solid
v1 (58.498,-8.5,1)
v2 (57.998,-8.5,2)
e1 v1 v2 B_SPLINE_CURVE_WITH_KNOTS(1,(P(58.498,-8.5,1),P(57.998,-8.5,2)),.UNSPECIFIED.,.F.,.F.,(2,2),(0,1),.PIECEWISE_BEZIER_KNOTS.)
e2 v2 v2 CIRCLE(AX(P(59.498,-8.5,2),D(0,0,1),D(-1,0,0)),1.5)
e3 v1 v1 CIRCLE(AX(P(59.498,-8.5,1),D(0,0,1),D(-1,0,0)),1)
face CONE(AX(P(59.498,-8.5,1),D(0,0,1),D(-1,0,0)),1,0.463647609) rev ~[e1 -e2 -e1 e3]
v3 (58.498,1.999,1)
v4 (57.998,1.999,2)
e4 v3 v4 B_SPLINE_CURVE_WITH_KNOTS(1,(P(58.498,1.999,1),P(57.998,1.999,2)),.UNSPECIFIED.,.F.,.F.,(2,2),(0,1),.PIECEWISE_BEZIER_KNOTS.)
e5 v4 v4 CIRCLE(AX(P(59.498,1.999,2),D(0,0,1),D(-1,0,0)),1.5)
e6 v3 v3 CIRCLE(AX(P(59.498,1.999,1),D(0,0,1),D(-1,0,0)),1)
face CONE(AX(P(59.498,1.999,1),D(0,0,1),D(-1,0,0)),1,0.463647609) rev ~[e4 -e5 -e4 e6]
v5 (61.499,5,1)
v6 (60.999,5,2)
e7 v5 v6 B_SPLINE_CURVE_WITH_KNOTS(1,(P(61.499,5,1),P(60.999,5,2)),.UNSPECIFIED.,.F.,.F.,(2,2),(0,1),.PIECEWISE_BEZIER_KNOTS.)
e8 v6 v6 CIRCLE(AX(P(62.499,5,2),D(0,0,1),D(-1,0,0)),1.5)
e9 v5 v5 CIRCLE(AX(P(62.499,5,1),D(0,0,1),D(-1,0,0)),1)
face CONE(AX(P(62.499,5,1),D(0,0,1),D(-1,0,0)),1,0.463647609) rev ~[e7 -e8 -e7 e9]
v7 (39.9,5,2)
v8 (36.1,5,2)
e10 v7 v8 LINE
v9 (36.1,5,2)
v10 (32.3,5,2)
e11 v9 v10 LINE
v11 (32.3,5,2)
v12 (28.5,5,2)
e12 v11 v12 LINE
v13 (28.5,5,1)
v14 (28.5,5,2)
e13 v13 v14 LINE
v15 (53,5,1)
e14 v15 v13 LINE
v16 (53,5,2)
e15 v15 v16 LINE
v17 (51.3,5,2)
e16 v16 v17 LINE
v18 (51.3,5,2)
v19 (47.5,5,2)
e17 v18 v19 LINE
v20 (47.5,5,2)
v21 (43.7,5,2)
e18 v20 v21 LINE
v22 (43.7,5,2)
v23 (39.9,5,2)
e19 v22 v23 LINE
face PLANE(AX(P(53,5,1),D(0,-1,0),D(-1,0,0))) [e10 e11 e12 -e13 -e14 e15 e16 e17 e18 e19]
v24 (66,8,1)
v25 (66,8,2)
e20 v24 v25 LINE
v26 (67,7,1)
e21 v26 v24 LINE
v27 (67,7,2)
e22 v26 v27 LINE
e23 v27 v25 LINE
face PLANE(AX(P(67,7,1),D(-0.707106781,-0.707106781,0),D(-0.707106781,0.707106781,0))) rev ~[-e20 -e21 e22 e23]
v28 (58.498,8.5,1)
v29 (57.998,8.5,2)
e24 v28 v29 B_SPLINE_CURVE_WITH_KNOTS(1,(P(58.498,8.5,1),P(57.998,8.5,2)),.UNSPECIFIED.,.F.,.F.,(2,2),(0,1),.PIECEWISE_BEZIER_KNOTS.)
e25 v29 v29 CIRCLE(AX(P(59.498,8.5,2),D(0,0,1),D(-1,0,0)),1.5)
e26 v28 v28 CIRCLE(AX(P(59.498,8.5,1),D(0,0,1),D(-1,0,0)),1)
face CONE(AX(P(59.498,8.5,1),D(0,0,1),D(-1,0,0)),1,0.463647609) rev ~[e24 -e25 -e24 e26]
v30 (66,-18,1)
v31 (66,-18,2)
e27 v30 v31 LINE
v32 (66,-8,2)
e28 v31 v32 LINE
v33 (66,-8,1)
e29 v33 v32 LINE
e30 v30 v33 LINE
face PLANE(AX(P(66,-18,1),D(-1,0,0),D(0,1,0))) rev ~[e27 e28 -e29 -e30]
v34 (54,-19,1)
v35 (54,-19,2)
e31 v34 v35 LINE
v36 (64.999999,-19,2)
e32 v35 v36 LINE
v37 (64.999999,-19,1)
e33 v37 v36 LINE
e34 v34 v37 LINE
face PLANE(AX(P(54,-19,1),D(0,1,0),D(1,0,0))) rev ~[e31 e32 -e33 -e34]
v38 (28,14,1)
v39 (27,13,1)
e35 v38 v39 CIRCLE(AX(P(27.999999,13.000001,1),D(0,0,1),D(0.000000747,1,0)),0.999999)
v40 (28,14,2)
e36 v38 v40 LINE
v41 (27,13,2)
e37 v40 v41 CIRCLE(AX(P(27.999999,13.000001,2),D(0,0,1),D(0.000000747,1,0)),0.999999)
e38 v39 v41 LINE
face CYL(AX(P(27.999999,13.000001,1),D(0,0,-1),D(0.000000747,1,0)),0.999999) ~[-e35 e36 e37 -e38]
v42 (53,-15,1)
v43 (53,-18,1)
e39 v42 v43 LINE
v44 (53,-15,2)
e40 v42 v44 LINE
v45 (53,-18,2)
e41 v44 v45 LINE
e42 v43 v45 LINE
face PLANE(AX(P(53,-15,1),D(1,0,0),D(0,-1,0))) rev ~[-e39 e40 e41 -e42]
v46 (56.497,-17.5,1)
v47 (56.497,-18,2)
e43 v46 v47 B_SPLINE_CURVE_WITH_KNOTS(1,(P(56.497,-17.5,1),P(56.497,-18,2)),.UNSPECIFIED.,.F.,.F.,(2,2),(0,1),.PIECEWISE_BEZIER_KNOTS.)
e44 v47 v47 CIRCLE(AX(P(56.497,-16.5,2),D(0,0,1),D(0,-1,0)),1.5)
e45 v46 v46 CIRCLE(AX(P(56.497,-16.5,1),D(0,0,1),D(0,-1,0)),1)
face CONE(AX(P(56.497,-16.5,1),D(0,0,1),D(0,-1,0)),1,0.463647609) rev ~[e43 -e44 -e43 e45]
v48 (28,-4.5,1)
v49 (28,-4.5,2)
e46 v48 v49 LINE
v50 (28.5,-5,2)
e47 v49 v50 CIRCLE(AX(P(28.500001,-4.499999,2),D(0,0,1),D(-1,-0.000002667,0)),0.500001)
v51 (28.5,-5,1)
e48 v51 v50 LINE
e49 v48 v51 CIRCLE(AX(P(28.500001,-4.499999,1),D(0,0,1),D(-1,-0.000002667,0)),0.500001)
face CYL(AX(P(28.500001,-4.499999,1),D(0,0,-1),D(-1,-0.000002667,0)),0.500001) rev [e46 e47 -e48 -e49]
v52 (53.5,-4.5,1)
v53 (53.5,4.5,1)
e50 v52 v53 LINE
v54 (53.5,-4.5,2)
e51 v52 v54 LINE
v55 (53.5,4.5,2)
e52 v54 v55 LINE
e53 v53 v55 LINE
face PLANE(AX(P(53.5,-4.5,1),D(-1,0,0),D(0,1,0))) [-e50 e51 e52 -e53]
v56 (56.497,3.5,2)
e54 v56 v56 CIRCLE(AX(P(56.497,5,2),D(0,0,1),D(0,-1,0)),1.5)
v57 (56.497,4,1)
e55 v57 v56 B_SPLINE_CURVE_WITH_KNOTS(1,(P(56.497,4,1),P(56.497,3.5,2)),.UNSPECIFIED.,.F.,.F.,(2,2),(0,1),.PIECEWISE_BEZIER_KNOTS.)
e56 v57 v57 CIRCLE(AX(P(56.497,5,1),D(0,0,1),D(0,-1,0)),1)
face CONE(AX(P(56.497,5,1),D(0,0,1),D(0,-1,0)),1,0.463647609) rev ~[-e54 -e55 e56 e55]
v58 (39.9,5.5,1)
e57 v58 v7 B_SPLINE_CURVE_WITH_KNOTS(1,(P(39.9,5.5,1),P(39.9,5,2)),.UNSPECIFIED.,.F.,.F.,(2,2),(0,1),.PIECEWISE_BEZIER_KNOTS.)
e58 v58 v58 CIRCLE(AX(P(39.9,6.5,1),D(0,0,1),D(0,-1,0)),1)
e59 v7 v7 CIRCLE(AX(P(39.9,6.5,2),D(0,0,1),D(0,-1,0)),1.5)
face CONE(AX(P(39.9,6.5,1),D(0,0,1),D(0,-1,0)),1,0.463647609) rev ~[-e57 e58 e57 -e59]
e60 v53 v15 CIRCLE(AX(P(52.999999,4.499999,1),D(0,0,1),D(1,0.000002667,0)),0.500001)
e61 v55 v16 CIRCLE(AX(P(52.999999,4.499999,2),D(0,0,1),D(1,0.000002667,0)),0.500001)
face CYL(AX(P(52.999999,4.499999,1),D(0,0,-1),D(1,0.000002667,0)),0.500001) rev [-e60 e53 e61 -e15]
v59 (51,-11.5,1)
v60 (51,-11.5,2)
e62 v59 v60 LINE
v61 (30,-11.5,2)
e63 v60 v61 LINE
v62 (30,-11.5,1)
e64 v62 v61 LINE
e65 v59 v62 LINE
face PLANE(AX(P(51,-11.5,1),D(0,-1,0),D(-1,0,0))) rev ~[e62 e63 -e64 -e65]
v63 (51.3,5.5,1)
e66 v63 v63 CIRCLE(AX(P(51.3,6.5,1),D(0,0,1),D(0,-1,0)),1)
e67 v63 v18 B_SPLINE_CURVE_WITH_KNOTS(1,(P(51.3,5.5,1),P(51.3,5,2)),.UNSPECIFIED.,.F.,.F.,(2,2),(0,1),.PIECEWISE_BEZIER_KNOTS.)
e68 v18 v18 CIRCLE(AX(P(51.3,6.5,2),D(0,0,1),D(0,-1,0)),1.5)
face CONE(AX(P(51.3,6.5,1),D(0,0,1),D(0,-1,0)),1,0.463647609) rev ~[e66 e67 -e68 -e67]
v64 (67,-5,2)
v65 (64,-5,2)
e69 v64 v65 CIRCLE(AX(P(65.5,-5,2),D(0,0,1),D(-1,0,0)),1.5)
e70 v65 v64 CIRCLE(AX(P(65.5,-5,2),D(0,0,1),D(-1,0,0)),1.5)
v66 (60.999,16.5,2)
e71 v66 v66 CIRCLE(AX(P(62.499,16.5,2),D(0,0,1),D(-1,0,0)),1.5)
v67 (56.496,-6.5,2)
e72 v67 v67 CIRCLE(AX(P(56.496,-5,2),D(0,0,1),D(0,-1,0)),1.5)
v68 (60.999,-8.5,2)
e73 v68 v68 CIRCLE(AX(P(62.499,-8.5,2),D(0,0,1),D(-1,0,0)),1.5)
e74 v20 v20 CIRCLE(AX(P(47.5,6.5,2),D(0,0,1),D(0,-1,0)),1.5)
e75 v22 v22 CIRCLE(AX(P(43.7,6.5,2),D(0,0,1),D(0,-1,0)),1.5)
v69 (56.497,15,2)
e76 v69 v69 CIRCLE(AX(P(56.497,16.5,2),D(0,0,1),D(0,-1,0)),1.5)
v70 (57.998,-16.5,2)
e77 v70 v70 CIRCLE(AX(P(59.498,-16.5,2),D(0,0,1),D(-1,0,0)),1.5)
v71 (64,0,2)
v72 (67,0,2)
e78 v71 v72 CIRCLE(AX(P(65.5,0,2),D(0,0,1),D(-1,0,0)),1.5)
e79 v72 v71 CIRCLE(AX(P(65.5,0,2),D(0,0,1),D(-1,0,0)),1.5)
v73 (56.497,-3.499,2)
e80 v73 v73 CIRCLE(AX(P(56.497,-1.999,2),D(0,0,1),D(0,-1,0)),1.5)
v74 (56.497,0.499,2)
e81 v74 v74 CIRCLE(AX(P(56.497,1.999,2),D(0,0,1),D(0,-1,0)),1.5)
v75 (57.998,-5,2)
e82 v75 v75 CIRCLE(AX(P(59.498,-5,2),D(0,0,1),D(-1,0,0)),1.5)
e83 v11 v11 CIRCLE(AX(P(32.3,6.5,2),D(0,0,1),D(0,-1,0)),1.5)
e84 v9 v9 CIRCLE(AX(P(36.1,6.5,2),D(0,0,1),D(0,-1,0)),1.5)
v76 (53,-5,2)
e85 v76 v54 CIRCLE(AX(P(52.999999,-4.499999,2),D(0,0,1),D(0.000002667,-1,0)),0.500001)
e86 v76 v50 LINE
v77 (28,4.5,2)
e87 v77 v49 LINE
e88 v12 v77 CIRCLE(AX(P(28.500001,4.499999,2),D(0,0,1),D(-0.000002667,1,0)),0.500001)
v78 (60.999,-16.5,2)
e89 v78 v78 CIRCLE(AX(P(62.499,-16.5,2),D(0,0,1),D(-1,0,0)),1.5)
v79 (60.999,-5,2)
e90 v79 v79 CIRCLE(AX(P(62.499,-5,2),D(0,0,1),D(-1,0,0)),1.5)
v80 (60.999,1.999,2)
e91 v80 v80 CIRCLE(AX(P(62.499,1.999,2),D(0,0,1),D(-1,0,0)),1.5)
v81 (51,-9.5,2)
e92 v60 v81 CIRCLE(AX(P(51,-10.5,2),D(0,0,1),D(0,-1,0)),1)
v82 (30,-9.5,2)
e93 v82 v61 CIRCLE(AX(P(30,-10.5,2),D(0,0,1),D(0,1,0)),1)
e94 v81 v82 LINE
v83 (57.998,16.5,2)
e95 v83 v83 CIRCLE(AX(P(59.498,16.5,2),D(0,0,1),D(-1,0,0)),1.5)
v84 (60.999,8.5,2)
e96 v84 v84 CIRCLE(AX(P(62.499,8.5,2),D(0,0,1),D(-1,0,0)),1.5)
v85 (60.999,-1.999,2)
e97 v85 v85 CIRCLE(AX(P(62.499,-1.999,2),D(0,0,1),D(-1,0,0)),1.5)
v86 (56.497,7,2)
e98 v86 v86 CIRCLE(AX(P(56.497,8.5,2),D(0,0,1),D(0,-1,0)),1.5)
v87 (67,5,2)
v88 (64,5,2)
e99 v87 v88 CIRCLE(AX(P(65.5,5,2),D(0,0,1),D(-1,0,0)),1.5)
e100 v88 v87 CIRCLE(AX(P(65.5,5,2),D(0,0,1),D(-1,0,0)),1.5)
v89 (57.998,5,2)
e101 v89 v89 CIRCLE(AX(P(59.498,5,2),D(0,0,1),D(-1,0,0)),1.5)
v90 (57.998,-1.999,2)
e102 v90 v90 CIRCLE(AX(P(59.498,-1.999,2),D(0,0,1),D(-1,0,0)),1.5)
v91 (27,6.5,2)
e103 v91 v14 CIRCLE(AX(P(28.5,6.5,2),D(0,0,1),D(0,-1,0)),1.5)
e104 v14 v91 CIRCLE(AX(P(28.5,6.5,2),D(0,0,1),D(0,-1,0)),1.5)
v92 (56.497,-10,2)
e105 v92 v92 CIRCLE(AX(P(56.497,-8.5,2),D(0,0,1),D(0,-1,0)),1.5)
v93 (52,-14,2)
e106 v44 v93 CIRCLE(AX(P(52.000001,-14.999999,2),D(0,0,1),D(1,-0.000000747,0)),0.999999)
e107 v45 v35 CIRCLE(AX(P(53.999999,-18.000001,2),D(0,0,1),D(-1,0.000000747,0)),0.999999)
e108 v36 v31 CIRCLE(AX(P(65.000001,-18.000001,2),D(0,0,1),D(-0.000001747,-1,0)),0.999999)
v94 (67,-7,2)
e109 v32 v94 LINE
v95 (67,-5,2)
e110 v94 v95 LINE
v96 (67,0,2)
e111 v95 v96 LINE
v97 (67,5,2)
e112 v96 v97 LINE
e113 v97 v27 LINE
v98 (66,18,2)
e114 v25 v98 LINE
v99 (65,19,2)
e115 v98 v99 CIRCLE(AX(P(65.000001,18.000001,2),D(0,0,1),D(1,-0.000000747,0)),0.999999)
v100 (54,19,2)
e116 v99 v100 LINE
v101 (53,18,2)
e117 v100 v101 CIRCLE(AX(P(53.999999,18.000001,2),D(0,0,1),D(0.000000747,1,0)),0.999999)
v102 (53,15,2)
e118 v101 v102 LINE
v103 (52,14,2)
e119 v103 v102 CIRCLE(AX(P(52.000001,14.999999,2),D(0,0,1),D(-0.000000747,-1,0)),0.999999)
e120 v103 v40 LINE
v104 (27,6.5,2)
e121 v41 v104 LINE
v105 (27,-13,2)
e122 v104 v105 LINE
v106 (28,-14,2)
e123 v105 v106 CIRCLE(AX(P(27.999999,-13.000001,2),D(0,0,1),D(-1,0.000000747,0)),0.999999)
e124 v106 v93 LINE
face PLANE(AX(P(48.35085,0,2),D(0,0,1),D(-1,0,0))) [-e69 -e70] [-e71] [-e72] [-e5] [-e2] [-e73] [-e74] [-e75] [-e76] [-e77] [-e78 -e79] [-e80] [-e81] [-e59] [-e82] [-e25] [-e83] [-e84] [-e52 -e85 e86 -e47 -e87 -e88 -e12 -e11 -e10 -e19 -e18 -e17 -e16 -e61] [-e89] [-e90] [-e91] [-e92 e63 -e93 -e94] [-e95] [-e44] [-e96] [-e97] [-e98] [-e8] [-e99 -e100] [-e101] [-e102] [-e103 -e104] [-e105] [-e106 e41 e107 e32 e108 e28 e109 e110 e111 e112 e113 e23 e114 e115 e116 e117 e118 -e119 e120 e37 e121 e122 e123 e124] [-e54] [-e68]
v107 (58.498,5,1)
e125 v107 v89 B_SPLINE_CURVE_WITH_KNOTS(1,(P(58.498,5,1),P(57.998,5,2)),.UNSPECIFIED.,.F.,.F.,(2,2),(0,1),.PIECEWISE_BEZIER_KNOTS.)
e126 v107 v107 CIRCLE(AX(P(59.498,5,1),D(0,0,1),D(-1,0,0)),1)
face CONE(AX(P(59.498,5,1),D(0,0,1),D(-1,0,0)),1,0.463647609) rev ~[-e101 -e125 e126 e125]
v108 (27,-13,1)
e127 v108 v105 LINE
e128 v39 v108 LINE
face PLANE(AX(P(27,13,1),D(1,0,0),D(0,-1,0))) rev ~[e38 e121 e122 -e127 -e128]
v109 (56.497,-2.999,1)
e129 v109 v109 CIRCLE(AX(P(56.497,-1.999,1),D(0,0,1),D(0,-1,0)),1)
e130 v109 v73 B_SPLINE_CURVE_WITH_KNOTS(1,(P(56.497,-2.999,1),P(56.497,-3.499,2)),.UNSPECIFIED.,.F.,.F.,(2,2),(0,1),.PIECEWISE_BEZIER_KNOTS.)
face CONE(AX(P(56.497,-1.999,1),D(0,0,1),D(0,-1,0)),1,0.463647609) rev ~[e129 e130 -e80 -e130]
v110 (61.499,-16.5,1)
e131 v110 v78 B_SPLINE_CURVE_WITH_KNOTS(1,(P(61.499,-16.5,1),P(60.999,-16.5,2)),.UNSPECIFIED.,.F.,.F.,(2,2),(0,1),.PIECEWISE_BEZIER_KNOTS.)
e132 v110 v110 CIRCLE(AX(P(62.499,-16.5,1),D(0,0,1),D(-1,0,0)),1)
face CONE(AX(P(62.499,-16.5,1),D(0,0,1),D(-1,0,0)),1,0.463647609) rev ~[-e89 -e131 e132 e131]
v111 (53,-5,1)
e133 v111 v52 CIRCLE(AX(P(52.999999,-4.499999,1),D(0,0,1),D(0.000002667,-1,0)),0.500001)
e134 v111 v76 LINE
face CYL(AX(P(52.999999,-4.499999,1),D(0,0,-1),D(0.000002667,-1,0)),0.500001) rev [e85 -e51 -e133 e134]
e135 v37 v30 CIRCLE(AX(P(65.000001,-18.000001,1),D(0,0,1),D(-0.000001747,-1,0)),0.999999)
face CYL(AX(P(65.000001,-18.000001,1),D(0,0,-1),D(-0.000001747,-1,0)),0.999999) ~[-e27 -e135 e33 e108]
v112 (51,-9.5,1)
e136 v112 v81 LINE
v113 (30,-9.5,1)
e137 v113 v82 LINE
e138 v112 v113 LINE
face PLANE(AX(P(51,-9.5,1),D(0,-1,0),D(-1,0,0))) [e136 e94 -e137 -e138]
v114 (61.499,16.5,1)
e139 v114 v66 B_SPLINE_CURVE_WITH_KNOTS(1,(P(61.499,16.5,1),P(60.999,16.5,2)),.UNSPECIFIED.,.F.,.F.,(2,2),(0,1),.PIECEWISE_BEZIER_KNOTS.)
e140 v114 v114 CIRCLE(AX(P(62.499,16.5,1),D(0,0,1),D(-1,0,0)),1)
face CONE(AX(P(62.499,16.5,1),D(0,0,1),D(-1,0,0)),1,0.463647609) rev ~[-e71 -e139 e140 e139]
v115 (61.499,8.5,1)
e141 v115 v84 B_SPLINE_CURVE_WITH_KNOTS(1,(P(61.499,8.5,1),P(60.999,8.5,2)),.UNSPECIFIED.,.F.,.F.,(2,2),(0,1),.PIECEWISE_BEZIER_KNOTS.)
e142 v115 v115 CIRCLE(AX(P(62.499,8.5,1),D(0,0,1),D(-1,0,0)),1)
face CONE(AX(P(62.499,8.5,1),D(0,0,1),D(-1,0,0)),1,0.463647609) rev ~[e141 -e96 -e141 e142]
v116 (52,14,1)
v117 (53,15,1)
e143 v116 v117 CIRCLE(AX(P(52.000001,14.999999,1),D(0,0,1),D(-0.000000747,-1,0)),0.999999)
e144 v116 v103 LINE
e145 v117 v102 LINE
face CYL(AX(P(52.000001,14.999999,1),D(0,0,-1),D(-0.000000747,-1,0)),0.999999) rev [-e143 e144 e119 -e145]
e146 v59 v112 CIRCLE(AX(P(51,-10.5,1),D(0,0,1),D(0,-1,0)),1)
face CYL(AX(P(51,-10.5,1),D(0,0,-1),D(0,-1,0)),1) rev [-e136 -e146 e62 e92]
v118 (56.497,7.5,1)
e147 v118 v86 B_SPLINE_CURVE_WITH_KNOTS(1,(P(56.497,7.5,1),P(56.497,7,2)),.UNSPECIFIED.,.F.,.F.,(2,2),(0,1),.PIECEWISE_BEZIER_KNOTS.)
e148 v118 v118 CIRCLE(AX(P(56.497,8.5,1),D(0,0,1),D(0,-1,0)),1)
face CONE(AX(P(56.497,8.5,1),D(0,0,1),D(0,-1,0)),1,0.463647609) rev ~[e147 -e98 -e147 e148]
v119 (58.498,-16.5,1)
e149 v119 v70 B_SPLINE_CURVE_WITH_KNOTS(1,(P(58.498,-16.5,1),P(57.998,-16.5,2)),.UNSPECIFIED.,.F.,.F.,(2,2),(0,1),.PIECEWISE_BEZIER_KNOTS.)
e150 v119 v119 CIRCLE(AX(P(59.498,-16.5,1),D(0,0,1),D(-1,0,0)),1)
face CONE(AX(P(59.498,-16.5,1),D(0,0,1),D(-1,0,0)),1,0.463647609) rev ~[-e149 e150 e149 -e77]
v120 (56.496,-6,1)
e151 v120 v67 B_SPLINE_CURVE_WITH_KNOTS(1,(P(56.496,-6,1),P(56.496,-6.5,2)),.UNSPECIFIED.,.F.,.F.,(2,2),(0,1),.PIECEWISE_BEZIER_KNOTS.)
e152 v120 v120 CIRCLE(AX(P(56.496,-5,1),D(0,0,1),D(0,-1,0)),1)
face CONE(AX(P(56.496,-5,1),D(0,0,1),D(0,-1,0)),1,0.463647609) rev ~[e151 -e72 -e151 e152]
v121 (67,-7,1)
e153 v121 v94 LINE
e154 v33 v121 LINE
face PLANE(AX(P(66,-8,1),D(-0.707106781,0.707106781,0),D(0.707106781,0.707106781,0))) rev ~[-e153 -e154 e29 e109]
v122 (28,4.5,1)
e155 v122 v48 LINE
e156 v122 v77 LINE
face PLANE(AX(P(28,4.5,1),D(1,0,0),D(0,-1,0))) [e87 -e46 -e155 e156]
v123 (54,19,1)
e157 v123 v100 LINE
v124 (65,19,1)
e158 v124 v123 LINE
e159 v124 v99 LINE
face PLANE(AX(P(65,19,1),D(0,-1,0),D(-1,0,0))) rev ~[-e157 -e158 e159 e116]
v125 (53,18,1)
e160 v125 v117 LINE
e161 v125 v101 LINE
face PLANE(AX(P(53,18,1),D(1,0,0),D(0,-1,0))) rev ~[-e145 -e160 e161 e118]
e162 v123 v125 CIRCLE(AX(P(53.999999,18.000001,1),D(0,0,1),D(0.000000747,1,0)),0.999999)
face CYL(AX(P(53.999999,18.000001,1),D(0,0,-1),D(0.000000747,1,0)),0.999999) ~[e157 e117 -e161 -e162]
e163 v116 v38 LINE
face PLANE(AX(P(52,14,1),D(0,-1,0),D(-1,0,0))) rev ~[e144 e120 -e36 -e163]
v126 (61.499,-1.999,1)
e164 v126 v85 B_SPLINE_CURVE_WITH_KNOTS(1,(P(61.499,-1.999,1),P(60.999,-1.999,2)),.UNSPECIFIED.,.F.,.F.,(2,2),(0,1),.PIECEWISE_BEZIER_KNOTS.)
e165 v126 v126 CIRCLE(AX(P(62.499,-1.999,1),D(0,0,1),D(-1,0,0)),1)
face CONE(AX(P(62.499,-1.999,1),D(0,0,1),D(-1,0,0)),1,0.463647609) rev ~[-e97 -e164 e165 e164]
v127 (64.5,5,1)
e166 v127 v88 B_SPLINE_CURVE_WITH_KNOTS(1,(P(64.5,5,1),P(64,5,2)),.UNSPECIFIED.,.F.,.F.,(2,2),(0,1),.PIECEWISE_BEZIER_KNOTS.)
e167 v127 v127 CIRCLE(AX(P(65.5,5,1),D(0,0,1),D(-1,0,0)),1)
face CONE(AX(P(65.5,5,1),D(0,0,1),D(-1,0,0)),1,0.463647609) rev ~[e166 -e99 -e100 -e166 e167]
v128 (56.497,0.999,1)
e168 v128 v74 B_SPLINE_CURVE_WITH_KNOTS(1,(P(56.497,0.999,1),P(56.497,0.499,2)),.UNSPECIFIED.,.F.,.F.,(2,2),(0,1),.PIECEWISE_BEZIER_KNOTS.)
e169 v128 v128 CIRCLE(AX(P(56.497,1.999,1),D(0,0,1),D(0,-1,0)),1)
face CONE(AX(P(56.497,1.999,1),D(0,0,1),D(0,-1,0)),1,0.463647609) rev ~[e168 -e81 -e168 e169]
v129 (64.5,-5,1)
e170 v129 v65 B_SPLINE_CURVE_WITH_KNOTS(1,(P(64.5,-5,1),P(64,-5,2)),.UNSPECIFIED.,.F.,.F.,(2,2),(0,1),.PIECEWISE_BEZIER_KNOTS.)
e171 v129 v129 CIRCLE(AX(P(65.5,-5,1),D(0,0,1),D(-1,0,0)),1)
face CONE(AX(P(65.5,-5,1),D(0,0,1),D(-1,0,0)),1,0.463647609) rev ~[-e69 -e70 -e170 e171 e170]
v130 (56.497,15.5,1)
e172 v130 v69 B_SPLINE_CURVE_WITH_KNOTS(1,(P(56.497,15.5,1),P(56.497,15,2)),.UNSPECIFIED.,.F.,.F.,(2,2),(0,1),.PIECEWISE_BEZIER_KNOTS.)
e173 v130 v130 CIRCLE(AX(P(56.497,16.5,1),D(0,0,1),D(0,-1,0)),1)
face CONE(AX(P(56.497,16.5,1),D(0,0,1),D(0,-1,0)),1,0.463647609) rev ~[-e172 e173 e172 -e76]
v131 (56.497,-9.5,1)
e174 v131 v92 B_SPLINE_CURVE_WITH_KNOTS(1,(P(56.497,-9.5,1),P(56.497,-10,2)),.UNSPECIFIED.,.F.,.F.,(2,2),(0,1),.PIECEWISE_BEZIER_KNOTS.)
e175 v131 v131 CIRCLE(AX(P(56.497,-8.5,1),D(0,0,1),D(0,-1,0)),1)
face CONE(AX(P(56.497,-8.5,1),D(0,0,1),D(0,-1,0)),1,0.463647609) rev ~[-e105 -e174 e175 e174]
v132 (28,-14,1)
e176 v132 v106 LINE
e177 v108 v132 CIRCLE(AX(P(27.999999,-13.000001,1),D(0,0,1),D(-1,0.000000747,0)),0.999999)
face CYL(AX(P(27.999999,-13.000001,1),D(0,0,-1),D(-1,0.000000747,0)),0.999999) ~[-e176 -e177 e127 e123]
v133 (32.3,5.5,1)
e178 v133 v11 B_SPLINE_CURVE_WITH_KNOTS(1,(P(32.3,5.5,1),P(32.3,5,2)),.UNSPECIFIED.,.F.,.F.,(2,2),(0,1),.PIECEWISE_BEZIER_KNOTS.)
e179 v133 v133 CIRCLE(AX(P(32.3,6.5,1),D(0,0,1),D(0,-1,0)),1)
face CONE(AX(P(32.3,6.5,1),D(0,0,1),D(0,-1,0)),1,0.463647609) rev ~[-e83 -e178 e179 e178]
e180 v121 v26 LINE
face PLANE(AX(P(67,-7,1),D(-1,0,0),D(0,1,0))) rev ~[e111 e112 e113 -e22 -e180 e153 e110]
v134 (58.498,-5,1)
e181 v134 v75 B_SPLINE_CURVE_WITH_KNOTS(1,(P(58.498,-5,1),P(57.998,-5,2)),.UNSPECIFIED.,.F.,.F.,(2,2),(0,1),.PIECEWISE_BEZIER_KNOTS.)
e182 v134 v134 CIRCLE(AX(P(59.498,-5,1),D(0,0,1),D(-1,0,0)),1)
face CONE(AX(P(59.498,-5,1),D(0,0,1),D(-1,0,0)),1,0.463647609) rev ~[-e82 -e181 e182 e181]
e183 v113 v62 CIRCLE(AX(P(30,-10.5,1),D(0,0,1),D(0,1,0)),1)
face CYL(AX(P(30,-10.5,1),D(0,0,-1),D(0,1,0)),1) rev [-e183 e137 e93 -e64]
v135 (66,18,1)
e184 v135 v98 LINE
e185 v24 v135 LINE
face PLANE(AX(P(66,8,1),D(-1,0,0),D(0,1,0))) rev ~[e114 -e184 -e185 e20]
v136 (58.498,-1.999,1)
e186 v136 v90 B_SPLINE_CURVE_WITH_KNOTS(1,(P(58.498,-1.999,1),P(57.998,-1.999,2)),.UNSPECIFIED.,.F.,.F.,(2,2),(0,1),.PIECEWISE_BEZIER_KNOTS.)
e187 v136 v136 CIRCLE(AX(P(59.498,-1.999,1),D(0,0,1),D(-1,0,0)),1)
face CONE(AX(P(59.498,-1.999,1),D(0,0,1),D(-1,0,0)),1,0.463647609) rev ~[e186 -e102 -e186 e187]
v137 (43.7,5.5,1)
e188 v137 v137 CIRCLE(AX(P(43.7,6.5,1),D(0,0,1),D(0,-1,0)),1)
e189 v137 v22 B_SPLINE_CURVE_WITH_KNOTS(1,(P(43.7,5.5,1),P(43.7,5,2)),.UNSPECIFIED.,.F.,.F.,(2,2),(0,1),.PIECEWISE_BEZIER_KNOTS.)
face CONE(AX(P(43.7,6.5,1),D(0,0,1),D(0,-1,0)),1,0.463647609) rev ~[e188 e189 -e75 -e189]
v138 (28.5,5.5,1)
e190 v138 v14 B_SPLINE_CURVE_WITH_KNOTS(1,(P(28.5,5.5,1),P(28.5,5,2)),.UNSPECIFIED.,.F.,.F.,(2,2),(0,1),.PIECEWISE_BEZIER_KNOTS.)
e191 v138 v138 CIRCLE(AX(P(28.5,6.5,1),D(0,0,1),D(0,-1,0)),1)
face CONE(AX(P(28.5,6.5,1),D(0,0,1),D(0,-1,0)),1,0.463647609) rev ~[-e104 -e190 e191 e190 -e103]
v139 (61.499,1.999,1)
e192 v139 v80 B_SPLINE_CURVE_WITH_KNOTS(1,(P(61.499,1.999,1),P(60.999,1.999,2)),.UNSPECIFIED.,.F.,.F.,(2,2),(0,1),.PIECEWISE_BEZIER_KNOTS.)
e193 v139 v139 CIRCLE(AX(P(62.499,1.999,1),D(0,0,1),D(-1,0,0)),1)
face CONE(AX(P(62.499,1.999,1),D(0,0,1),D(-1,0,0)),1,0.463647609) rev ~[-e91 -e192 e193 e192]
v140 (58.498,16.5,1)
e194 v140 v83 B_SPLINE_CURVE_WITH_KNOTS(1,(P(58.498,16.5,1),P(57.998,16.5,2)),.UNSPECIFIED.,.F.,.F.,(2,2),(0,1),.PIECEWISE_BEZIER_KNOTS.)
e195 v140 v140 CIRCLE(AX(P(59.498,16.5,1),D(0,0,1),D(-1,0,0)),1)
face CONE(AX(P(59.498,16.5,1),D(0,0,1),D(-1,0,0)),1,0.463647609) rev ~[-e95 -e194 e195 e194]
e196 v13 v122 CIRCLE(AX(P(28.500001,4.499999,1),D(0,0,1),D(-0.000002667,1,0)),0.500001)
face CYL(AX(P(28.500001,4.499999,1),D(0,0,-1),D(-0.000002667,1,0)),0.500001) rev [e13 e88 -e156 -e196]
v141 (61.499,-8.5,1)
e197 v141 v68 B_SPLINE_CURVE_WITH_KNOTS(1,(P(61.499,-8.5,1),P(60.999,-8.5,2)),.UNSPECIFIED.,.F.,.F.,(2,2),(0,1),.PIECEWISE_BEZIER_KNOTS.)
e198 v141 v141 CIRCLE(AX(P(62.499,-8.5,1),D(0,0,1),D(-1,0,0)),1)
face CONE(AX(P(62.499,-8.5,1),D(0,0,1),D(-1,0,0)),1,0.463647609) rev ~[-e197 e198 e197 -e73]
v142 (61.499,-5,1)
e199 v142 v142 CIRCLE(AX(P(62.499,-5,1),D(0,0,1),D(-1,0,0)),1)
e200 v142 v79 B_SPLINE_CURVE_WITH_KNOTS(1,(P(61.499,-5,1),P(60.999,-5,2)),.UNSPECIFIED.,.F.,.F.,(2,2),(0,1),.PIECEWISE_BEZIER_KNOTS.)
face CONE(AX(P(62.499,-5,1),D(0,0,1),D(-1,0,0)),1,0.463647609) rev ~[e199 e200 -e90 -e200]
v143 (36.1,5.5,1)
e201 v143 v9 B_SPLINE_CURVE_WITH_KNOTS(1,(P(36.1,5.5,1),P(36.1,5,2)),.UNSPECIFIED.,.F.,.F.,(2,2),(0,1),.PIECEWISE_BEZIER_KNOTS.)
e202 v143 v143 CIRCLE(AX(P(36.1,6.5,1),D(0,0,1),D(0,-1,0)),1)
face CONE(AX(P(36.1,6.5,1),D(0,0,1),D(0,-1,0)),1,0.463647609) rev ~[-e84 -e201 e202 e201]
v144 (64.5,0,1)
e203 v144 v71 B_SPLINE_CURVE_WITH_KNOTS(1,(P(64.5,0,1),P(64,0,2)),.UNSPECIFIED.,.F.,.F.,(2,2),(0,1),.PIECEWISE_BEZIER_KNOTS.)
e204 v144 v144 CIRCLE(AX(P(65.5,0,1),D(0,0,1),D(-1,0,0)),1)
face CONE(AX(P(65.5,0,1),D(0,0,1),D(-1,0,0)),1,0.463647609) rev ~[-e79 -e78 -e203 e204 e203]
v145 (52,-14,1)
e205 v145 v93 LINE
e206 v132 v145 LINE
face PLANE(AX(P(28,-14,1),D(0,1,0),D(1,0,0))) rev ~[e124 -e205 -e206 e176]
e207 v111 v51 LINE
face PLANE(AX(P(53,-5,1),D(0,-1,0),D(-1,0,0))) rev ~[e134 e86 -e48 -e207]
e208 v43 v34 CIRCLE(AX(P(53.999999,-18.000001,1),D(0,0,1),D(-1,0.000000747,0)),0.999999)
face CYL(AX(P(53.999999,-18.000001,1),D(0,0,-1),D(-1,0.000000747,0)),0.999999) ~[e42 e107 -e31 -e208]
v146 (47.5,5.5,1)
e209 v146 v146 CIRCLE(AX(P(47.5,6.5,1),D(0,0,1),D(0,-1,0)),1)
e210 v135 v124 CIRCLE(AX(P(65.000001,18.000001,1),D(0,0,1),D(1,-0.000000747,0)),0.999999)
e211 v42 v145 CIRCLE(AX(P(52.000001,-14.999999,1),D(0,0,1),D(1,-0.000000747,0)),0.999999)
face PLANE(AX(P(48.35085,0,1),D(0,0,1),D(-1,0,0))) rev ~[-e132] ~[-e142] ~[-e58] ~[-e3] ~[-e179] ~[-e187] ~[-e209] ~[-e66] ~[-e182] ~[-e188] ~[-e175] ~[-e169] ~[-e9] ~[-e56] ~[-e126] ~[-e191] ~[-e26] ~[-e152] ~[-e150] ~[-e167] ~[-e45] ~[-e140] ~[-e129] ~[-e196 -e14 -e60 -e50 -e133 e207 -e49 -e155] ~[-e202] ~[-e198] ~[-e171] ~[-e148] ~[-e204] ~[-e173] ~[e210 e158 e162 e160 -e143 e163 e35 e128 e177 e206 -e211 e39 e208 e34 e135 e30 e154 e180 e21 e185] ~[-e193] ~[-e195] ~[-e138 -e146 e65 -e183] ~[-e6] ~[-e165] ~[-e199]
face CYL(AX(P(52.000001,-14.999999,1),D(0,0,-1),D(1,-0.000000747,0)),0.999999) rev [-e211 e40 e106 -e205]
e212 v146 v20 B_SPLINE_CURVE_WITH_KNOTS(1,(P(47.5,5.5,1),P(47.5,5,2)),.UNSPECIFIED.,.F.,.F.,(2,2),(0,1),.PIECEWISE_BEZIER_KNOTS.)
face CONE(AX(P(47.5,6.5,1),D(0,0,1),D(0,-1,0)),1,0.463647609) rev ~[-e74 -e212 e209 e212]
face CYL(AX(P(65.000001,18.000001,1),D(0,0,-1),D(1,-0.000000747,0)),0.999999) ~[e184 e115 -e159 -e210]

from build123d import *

# Parameters (mm, degrees)
SKETCH051_R             = 1
SKETCH050_R             = 1.5
SKETCH049_R             = 1
SKETCH048_R             = 1.5
SKETCH053_R             = 1
SKETCH052_R             = 1.5
SKETCH009_R             = 1
SKETCH008_R             = 1.5
LOFT004_PLACEMENT_ANGLE = 90
SKETCH011_R             = 1
SKETCH010_R             = 1.5
SKETCH012_R             = 1
SKETCH015_R             = 1.5
SKETCH017_R             = 1
SKETCH016_R             = 1.5
SKETCH014_R             = 1
SKETCH013_R             = 1.5
LOFT006_PLACEMENT_ANGLE = 90
SKETCH044_R             = 1
SKETCH047_R             = 1.5
SKETCH046_R             = 1
SKETCH045_R             = 1.5
SKETCH043_R             = 1
SKETCH042_R             = 1.5
LOFT021_PLACEMENT_ANGLE = 90
SKETCH039_R             = 1
SKETCH038_R             = 1.5
SKETCH035_R             = 1
SKETCH034_R             = 1.5
SKETCH041_R             = 1
SKETCH040_R             = 1.5
LOFT020_PLACEMENT_ANGLE = 90
SKETCH032_R             = 1
SKETCH037_R             = 1.5
SKETCH036_R             = 1
SKETCH033_R             = 1.5
SKETCH031_R             = 1
SKETCH030_R             = 1.5
LOFT015_PLACEMENT_ANGLE = 90
SKETCH027_R             = 1
SKETCH026_R             = 1.5
SKETCH025_R             = 1
SKETCH024_R             = 1.5
SKETCH029_R             = 1
SKETCH028_R             = 1.5
LOFT014_PLACEMENT_ANGLE = 90
SKETCH021_R             = 1
SKETCH020_R             = 1.5
SKETCH023_R             = 1
SKETCH022_R             = 1.5
SKETCH019_R             = 1
SKETCH018_R             = 1.5
LOFT009_PLACEMENT_ANGLE = 90
SKETCH007_R             = 1
SKETCH004_R             = 1.5
SKETCH001_R             = 1
SKETCH_R                = 1.5
SKETCH003_R             = 1
SKETCH002_R             = 1.5
LOFT001_PLACEMENT_ANGLE = 90
SKETCH006_R             = 1
SKETCH005_R             = 1.5
SKETCH075_R             = 1
SKETCH083_R             = 1.5
LOFT036_PLACEMENT_ANGLE = 90
SKETCH079_R             = 1
SKETCH078_R             = 1.5
LOFT037_PLACEMENT_ANGLE = 90
SKETCH074_R             = 1
SKETCH073_R             = 1.5
LOFT038_PLACEMENT_ANGLE = 90
SKETCH080_R             = 1
SKETCH076_R             = 1.5
LOFT039_PLACEMENT_ANGLE = 90
SKETCH082_R             = 1
SKETCH081_R             = 1.5
LOFT040_PLACEMENT_ANGLE = 90
SKETCH071_R             = 1
SKETCH070_R             = 1.5
LOFT034_PLACEMENT_ANGLE = 90
SKETCH077_R             = 1
SKETCH072_R             = 1.5
LOFT035_PLACEMENT_ANGLE = 90
EXTRUDE001_DEPTH        = 1
EXTRUDE003_DEPTH        = 1
EXTRUDE002_DEPTH        = 1
CUT010_PLACEMENT_ANGLE  = 180


with BuildPart() as loft094:
    # Sketch051 → Loft025 section 0
    with BuildSketch(Plane.XY):
        with Locations((2, 2)):
            Circle(SKETCH051_R)
    # Sketch050 → Loft025 section 1
    with BuildSketch(Plane.XY.offset(1)):
        with Locations((2, 2)):
            Circle(SKETCH050_R)
    loft()


with BuildPart() as loft094_1:
    # Loft025 placement: moved
    add(loft094.part.moved(Location((-1.5, 22, 0))))


with BuildPart() as loft093:
    # Sketch049 → Loft024 section 0
    with BuildSketch(Plane.XY):
        with Locations((2, 2)):
            Circle(SKETCH049_R)
    # Sketch048 → Loft024 section 1
    with BuildSketch(Plane.XY.offset(1)):
        with Locations((2, 2)):
            Circle(SKETCH048_R)
    loft()


with BuildPart() as loft093_1:
    # Loft024 placement: moved
    add(loft093.part.moved(Location((-1.5, 12, 0))))


with BuildPart() as fusion004:
    # Sketch053 → Loft026 section 0
    with BuildSketch(Plane.XY):
        with Locations((2, 2)):
            Circle(SKETCH053_R)
    # Sketch052 → Loft026 section 1
    with BuildSketch(Plane.XY.offset(1)):
        with Locations((2, 2)):
            Circle(SKETCH052_R)
    loft()


with BuildPart() as fusion004_1:
    # Loft026 placement: moved
    add(fusion004.part.moved(Location((-1.5, 17, 0))))

    # Fusion004: union Loft094, Loft093
    add(loft094_1.part)
    add(loft093_1.part)


with BuildPart() as loft074:
    # Sketch009 → Loft004 section 0
    with BuildSketch(Plane.XY):
        with Locations((2, 2)):
            Circle(SKETCH009_R)
    # Sketch008 → Loft004 section 1
    with BuildSketch(Plane.XY.offset(1)):
        with Locations((2, 2)):
            Circle(SKETCH008_R)
    loft()


with BuildPart() as loft074_1:
    # Loft004 placement: moved
    add(loft074.part.moved(Location((11.502, 33.5, 0))).rotate(Axis((11.502, 33.5, 0), (0, 0, 1)), LOFT004_PLACEMENT_ANGLE))


with BuildPart() as loft005:
    # Sketch011 → Loft005 section 0
    with BuildSketch(Plane.XY):
        with Locations((2, 2)):
            Circle(SKETCH011_R)
    # Sketch010 → Loft005 section 1
    with BuildSketch(Plane.XY.offset(1)):
        with Locations((2, 2)):
            Circle(SKETCH010_R)
    loft()


with BuildPart() as loft005_1:
    # Loft005 placement: moved
    add(loft005.part.moved(Location((1.5, 33.5, 0))))


with BuildPart() as loft076:
    # Sketch012 → Loft007 section 0
    with BuildSketch(Plane.XY):
        with Locations((2, 2)):
            Circle(SKETCH012_R)
    # Sketch015 → Loft007 section 1
    with BuildSketch(Plane.XY.offset(1)):
        with Locations((2, 2)):
            Circle(SKETCH015_R)
    loft()


with BuildPart() as loft076_1:
    # Loft007 placement: moved
    add(loft076.part.moved(Location((1.5, 25.5, 0))))


with BuildPart() as loft077:
    # Sketch017 → Loft008 section 0
    with BuildSketch(Plane.XY):
        with Locations((2, 2)):
            Circle(SKETCH017_R)
    # Sketch016 → Loft008 section 1
    with BuildSketch(Plane.XY.offset(1)):
        with Locations((2, 2)):
            Circle(SKETCH016_R)
    loft()


with BuildPart() as loft077_1:
    # Loft008 placement: moved
    add(loft077.part.moved(Location((4.501, 25.5, 0))))


with BuildPart() as loft075:
    # Sketch014 → Loft006 section 0
    with BuildSketch(Plane.XY):
        with Locations((2, 2)):
            Circle(SKETCH014_R)
    # Sketch013 → Loft006 section 1
    with BuildSketch(Plane.XY.offset(1)):
        with Locations((2, 2)):
            Circle(SKETCH013_R)
    loft()


with BuildPart() as loft075_1:
    # Loft006 placement: moved
    add(loft075.part.moved(Location((11.502, 25.5, 0))).rotate(Axis((11.502, 25.5, 0), (0, 0, 1)), LOFT006_PLACEMENT_ANGLE))


with BuildPart() as loft092:
    # Sketch044 → Loft023 section 0
    with BuildSketch(Plane.XY):
        with Locations((2, 2)):
            Circle(SKETCH044_R)
    # Sketch047 → Loft023 section 1
    with BuildSketch(Plane.XY.offset(1)):
        with Locations((2, 2)):
            Circle(SKETCH047_R)
    loft()


with BuildPart() as loft092_1:
    # Loft023 placement: moved
    add(loft092.part.moved(Location((1.5, 22, 0))))


with BuildPart() as loft091:
    # Sketch046 → Loft022 section 0
    with BuildSketch(Plane.XY):
        with Locations((2, 2)):
            Circle(SKETCH046_R)
    # Sketch045 → Loft022 section 1
    with BuildSketch(Plane.XY.offset(1)):
        with Locations((2, 2)):
            Circle(SKETCH045_R)
    loft()


with BuildPart() as loft091_1:
    # Loft022 placement: moved
    add(loft091.part.moved(Location((4.501, 22, 0))))


with BuildPart() as loft090:
    # Sketch043 → Loft021 section 0
    with BuildSketch(Plane.XY):
        with Locations((2, 2)):
            Circle(SKETCH043_R)
    # Sketch042 → Loft021 section 1
    with BuildSketch(Plane.XY.offset(1)):
        with Locations((2, 2)):
            Circle(SKETCH042_R)
    loft()


with BuildPart() as loft090_1:
    # Loft021 placement: moved
    add(loft090.part.moved(Location((11.503, 22, 0))).rotate(Axis((11.503, 22, 0), (0, 0, 1)), LOFT021_PLACEMENT_ANGLE))


with BuildPart() as loft088:
    # Sketch039 → Loft019 section 0
    with BuildSketch(Plane.XY):
        with Locations((2, 2)):
            Circle(SKETCH039_R)
    # Sketch038 → Loft019 section 1
    with BuildSketch(Plane.XY.offset(1)):
        with Locations((2, 2)):
            Circle(SKETCH038_R)
    loft()


with BuildPart() as loft088_1:
    # Loft019 placement: moved
    add(loft088.part.moved(Location((1.5, 18.999, 0))))


with BuildPart() as loft087:
    # Sketch035 → Loft018 section 0
    with BuildSketch(Plane.XY):
        with Locations((2, 2)):
            Circle(SKETCH035_R)
    # Sketch034 → Loft018 section 1
    with BuildSketch(Plane.XY.offset(1)):
        with Locations((2, 2)):
            Circle(SKETCH034_R)
    loft()


with BuildPart() as loft087_1:
    # Loft018 placement: moved
    add(loft087.part.moved(Location((4.501, 18.999, 0))))


with BuildPart() as loft089:
    # Sketch041 → Loft020 section 0
    with BuildSketch(Plane.XY):
        with Locations((2, 2)):
            Circle(SKETCH041_R)
    # Sketch040 → Loft020 section 1
    with BuildSketch(Plane.XY.offset(1)):
        with Locations((2, 2)):
            Circle(SKETCH040_R)
    loft()


with BuildPart() as loft089_1:
    # Loft020 placement: moved
    add(loft089.part.moved(Location((11.502, 18.999, 0))).rotate(Axis((11.502, 18.999, 0), (0, 0, 1)), LOFT020_PLACEMENT_ANGLE))


with BuildPart() as loft086:
    # Sketch032 → Loft017 section 0
    with BuildSketch(Plane.XY):
        with Locations((2, 2)):
            Circle(SKETCH032_R)
    # Sketch037 → Loft017 section 1
    with BuildSketch(Plane.XY.offset(1)):
        with Locations((2, 2)):
            Circle(SKETCH037_R)
    loft()


with BuildPart() as loft086_1:
    # Loft017 placement: moved
    add(loft086.part.moved(Location((1.5, 15.001, 0))))


with BuildPart() as loft085:
    # Sketch036 → Loft016 section 0
    with BuildSketch(Plane.XY):
        with Locations((2, 2)):
            Circle(SKETCH036_R)
    # Sketch033 → Loft016 section 1
    with BuildSketch(Plane.XY.offset(1)):
        with Locations((2, 2)):
            Circle(SKETCH033_R)
    loft()


with BuildPart() as loft085_1:
    # Loft016 placement: moved
    add(loft085.part.moved(Location((4.501, 15.001, 0))))


with BuildPart() as loft084:
    # Sketch031 → Loft015 section 0
    with BuildSketch(Plane.XY):
        with Locations((2, 2)):
            Circle(SKETCH031_R)
    # Sketch030 → Loft015 section 1
    with BuildSketch(Plane.XY.offset(1)):
        with Locations((2, 2)):
            Circle(SKETCH030_R)
    loft()


with BuildPart() as loft084_1:
    # Loft015 placement: moved
    add(loft084.part.moved(Location((11.502, 15.001, 0))).rotate(Axis((11.502, 15.001, 0), (0, 0, 1)), LOFT015_PLACEMENT_ANGLE))


with BuildPart() as loft082:
    # Sketch027 → Loft013 section 0
    with BuildSketch(Plane.XY):
        with Locations((2, 2)):
            Circle(SKETCH027_R)
    # Sketch026 → Loft013 section 1
    with BuildSketch(Plane.XY.offset(1)):
        with Locations((2, 2)):
            Circle(SKETCH026_R)
    loft()


with BuildPart() as loft082_1:
    # Loft013 placement: moved
    add(loft082.part.moved(Location((1.5, 12, 0))))


with BuildPart() as loft081:
    # Sketch025 → Loft012 section 0
    with BuildSketch(Plane.XY):
        with Locations((2, 2)):
            Circle(SKETCH025_R)
    # Sketch024 → Loft012 section 1
    with BuildSketch(Plane.XY.offset(1)):
        with Locations((2, 2)):
            Circle(SKETCH024_R)
    loft()


with BuildPart() as loft081_1:
    # Loft012 placement: moved
    add(loft081.part.moved(Location((4.501, 12, 0))))


with BuildPart() as loft083:
    # Sketch029 → Loft014 section 0
    with BuildSketch(Plane.XY):
        with Locations((2, 2)):
            Circle(SKETCH029_R)
    # Sketch028 → Loft014 section 1
    with BuildSketch(Plane.XY.offset(1)):
        with Locations((2, 2)):
            Circle(SKETCH028_R)
    loft()


with BuildPart() as loft083_1:
    # Loft014 placement: moved
    add(loft083.part.moved(Location((11.502, 12, 0))).rotate(Axis((11.502, 12, 0), (0, 0, 1)), LOFT014_PLACEMENT_ANGLE))


with BuildPart() as loft079:
    # Sketch021 → Loft010 section 0
    with BuildSketch(Plane.XY):
        with Locations((2, 2)):
            Circle(SKETCH021_R)
    # Sketch020 → Loft010 section 1
    with BuildSketch(Plane.XY.offset(1)):
        with Locations((2, 2)):
            Circle(SKETCH020_R)
    loft()


with BuildPart() as loft079_1:
    # Loft010 placement: moved
    add(loft079.part.moved(Location((1.5, 8.5, 0))))


with BuildPart() as loft080:
    # Sketch023 → Loft011 section 0
    with BuildSketch(Plane.XY):
        with Locations((2, 2)):
            Circle(SKETCH023_R)
    # Sketch022 → Loft011 section 1
    with BuildSketch(Plane.XY.offset(1)):
        with Locations((2, 2)):
            Circle(SKETCH022_R)
    loft()


with BuildPart() as loft080_1:
    # Loft011 placement: moved
    add(loft080.part.moved(Location((4.501, 8.5, 0))))


with BuildPart() as loft078:
    # Sketch019 → Loft009 section 0
    with BuildSketch(Plane.XY):
        with Locations((2, 2)):
            Circle(SKETCH019_R)
    # Sketch018 → Loft009 section 1
    with BuildSketch(Plane.XY.offset(1)):
        with Locations((2, 2)):
            Circle(SKETCH018_R)
    loft()


with BuildPart() as loft078_1:
    # Loft009 placement: moved
    add(loft078.part.moved(Location((11.502, 8.5, 0))).rotate(Axis((11.502, 8.5, 0), (0, 0, 1)), LOFT009_PLACEMENT_ANGLE))


with BuildPart() as loft072:
    # Sketch007 → Loft002 section 0
    with BuildSketch(Plane.XY):
        with Locations((2, 2)):
            Circle(SKETCH007_R)
    # Sketch004 → Loft002 section 1
    with BuildSketch(Plane.XY.offset(1)):
        with Locations((2, 2)):
            Circle(SKETCH004_R)
    loft()


with BuildPart() as loft072_1:
    # Loft002 placement: moved
    add(loft072.part.moved(Location((1.5, 0.5, 0))))


with BuildPart() as loft070:
    # Sketch001 → Loft section 0
    with BuildSketch(Plane.XY):
        with Locations((2, 2)):
            Circle(SKETCH001_R)
    # Sketch → Loft section 1
    with BuildSketch(Plane.XY.offset(1)):
        with Locations((2, 2)):
            Circle(SKETCH_R)
    loft()


with BuildPart() as loft070_1:
    # Loft placement: moved
    add(loft070.part.moved(Location((4.501, 0.5, 0))))


with BuildPart() as loft071:
    # Sketch003 → Loft001 section 0
    with BuildSketch(Plane.XY):
        with Locations((2, 2)):
            Circle(SKETCH003_R)
    # Sketch002 → Loft001 section 1
    with BuildSketch(Plane.XY.offset(1)):
        with Locations((2, 2)):
            Circle(SKETCH002_R)
    loft()


with BuildPart() as loft071_1:
    # Loft001 placement: moved
    add(loft071.part.moved(Location((11.502, 0.5, 0))).rotate(Axis((11.502, 0.5, 0), (0, 0, 1)), LOFT001_PLACEMENT_ANGLE))


with BuildPart() as fusion005:
    # Sketch006 → Loft003 section 0
    with BuildSketch(Plane.XY):
        with Locations((2, 2)):
            Circle(SKETCH006_R)
    # Sketch005 → Loft003 section 1
    with BuildSketch(Plane.XY.offset(1)):
        with Locations((2, 2)):
            Circle(SKETCH005_R)
    loft()


with BuildPart() as fusion005_1:
    # Loft003 placement: moved
    add(fusion005.part.moved(Location((4.501, 33.5, 0))))

    # Fusion003: union Loft074, Loft005, Loft076, Loft077, Loft075, Loft092, Loft091, Loft090, Loft088, Loft087, Loft089, Loft086, Loft085, Loft084, Loft082, Loft081, Loft083, Loft079, Loft080, Loft078, Loft072, Loft070, Loft071
    add(loft074_1.part)
    add(loft005_1.part)
    add(loft076_1.part)
    add(loft077_1.part)
    add(loft075_1.part)
    add(loft092_1.part)
    add(loft091_1.part)
    add(loft090_1.part)
    add(loft088_1.part)
    add(loft087_1.part)
    add(loft089_1.part)
    add(loft086_1.part)
    add(loft085_1.part)
    add(loft084_1.part)
    add(loft082_1.part)
    add(loft081_1.part)
    add(loft083_1.part)
    add(loft079_1.part)
    add(loft080_1.part)
    add(loft078_1.part)
    add(loft072_1.part)
    add(loft070_1.part)
    add(loft071_1.part)


with BuildPart() as fusion005_2:
    # Fusion003 placement: moved
    add(fusion005_1.part.moved(Location((0.001, 0, 0))))

    # Fusion005: union Fusion004
    add(fusion004_1.part)


with BuildPart() as loft105:
    # Sketch075 → Loft036 section 0
    with BuildSketch(Plane.XY):
        with Locations((2, 2)):
            Circle(SKETCH075_R)
    # Sketch083 → Loft036 section 1
    with BuildSketch(Plane.XY.offset(1)):
        with Locations((2, 2)):
            Circle(SKETCH083_R)
    loft()


with BuildPart() as loft105_1:
    # Loft036 placement: moved
    add(loft105.part.moved(Location((31.9, 10.5, 0))).rotate(Axis((31.9, 10.5, 0), (0, 0, 1)), LOFT036_PLACEMENT_ANGLE))


with BuildPart() as loft106:
    # Sketch079 → Loft037 section 0
    with BuildSketch(Plane.XY):
        with Locations((2, 2)):
            Circle(SKETCH079_R)
    # Sketch078 → Loft037 section 1
    with BuildSketch(Plane.XY.offset(1)):
        with Locations((2, 2)):
            Circle(SKETCH078_R)
    loft()


with BuildPart() as loft106_1:
    # Loft037 placement: moved
    add(loft106.part.moved(Location((35.7, 10.5, 0))).rotate(Axis((35.7, 10.5, 0), (0, 0, 1)), LOFT037_PLACEMENT_ANGLE))


with BuildPart() as loft107:
    # Sketch074 → Loft038 section 0
    with BuildSketch(Plane.XY):
        with Locations((2, 2)):
            Circle(SKETCH074_R)
    # Sketch073 → Loft038 section 1
    with BuildSketch(Plane.XY.offset(1)):
        with Locations((2, 2)):
            Circle(SKETCH073_R)
    loft()


with BuildPart() as loft107_1:
    # Loft038 placement: moved
    add(loft107.part.moved(Location((24.3, 10.5, 0))).rotate(Axis((24.3, 10.5, 0), (0, 0, 1)), LOFT038_PLACEMENT_ANGLE))


with BuildPart() as loft108:
    # Sketch080 → Loft039 section 0
    with BuildSketch(Plane.XY):
        with Locations((2, 2)):
            Circle(SKETCH080_R)
    # Sketch076 → Loft039 section 1
    with BuildSketch(Plane.XY.offset(1)):
        with Locations((2, 2)):
            Circle(SKETCH076_R)
    loft()


with BuildPart() as loft108_1:
    # Loft039 placement: moved
    add(loft108.part.moved(Location((28.1, 10.5, 0))).rotate(Axis((28.1, 10.5, 0), (0, 0, 1)), LOFT039_PLACEMENT_ANGLE))


with BuildPart() as loft109:
    # Sketch082 → Loft040 section 0
    with BuildSketch(Plane.XY):
        with Locations((2, 2)):
            Circle(SKETCH082_R)
    # Sketch081 → Loft040 section 1
    with BuildSketch(Plane.XY.offset(1)):
        with Locations((2, 2)):
            Circle(SKETCH081_R)
    loft()


with BuildPart() as loft109_1:
    # Loft040 placement: moved
    add(loft109.part.moved(Location((39.5, 10.5, 0))).rotate(Axis((39.5, 10.5, 0), (0, 0, 1)), LOFT040_PLACEMENT_ANGLE))


with BuildPart() as loft103:
    # Sketch071 → Loft034 section 0
    with BuildSketch(Plane.XY):
        with Locations((2, 2)):
            Circle(SKETCH071_R)
    # Sketch070 → Loft034 section 1
    with BuildSketch(Plane.XY.offset(1)):
        with Locations((2, 2)):
            Circle(SKETCH070_R)
    loft()


with BuildPart() as loft103_1:
    # Loft034 placement: moved
    add(loft103.part.moved(Location((20.5, 10.5, 0))).rotate(Axis((20.5, 10.5, 0), (0, 0, 1)), LOFT034_PLACEMENT_ANGLE))


with BuildPart() as fusion006:
    # Sketch077 → Loft035 section 0
    with BuildSketch(Plane.XY):
        with Locations((2, 2)):
            Circle(SKETCH077_R)
    # Sketch072 → Loft035 section 1
    with BuildSketch(Plane.XY.offset(1)):
        with Locations((2, 2)):
            Circle(SKETCH072_R)
    loft()


with BuildPart() as fusion006_1:
    # Loft035 placement: moved
    add(fusion006.part.moved(Location((16.7, 10.5, 0))).rotate(Axis((16.7, 10.5, 0), (0, 0, 1)), LOFT035_PLACEMENT_ANGLE))

    # Fusion001: union Loft105, Loft106, Loft107, Loft108, Loft109, Loft103
    add(loft105_1.part)
    add(loft106_1.part)
    add(loft107_1.part)
    add(loft108_1.part)
    add(loft109_1.part)
    add(loft103_1.part)

    # Fusion006: union Fusion005
    add(fusion005_2.part)


with BuildPart() as extrude001:
    # Sketch055 → Extrude001 (new body)
    with BuildSketch(Plane(origin=(0, 22, 0), x_dir=(1, 0, 0), z_dir=(0, 0, 1))):
        with BuildLine():
            ThreePointArc((36, 7), (37, 8), (36, 9))
            Line((15, 9), (36, 9))
            ThreePointArc((15, 9), (14, 8), (15, 7))
            Line((15, 7), (36, 7))
        make_face()
    extrude(amount=EXTRUDE001_DEPTH)


with BuildPart() as extrude001_1:
    # Extrude001 placement: moved
    add(extrude001.part.moved(Location((0, -0.5, 0))))


with BuildPart() as fusion002:
    # Sketch085 → Extrude003 (new body)
    with BuildSketch(Plane.XY):
        with BuildLine():
            Line((13, 24), (37.5, 24))
            ThreePointArc((38, 23.5), (37.853553, 23.853553), (37.5, 24))
            Line((38, 14.5), (38, 23.5))
            ThreePointArc((37.5, 14), (37.853553, 14.146447), (38, 14.5))
            Line((13, 14), (37.5, 14))
            ThreePointArc((12.5, 14.5), (12.646447, 14.146447), (13, 14))
            Line((12.5, 23.5), (12.5, 14.5))
            ThreePointArc((13, 24), (12.646447, 23.853553), (12.5, 23.5))
        make_face()
    extrude(amount=EXTRUDE003_DEPTH)

    # Fusion002: union Extrude001
    add(extrude001_1.part)


with BuildPart() as sc8000_b:
    # Sketch084 → Extrude002 (new body)
    with BuildSketch(Plane.XY):
        with BuildLine():
            ThreePointArc((0, 1), (0.292893, 0.292893), (1, 0))
            Line((1, 0), (12, 0))
            ThreePointArc((12, 0), (12.707107, 0.292893), (13, 1))
            Line((13, 1), (13, 4))
            ThreePointArc((14, 5), (13.292893, 4.707107), (13, 4))
            Line((14, 5), (38, 5))
            ThreePointArc((38, 5), (38.707107, 5.292893), (39, 6))
            Line((39, 6), (39, 32))
            ThreePointArc((39, 32), (38.707107, 32.707107), (38, 33))
            Line((38, 33), (14, 33))
            ThreePointArc((13, 34), (13.292893, 33.292893), (14, 33))
            Line((13, 34), (13, 37))
            ThreePointArc((13, 37), (12.707107, 37.707107), (12, 38))
            Line((12, 38), (1.000001, 38))
            ThreePointArc((1.000001, 38), (0.292893, 37.707107), (0, 37))
            Line((0, 37), (0, 27))
            Line((0, 27), (-1, 26))
            Line((-1, 26), (-1, 12))
            Line((-1, 12), (0, 11))
            Line((0, 11), (0, 1))
        make_face()
    extrude(amount=EXTRUDE002_DEPTH)

    # Cut: cut Fusion002
    add(fusion002.part, mode=Mode.SUBTRACT)

    # Cut010: cut Fusion006
    add(fusion006_1.part, mode=Mode.SUBTRACT)


with BuildPart() as sc8000_b_1:
    # Cut010 placement: moved
    add(sc8000_b.part.moved(Location((66, 19, 1))).rotate(Axis((66, 19, 1), (0, 0, 1)), CUT010_PLACEMENT_ANGLE))


solid = sc8000_b_1.part
